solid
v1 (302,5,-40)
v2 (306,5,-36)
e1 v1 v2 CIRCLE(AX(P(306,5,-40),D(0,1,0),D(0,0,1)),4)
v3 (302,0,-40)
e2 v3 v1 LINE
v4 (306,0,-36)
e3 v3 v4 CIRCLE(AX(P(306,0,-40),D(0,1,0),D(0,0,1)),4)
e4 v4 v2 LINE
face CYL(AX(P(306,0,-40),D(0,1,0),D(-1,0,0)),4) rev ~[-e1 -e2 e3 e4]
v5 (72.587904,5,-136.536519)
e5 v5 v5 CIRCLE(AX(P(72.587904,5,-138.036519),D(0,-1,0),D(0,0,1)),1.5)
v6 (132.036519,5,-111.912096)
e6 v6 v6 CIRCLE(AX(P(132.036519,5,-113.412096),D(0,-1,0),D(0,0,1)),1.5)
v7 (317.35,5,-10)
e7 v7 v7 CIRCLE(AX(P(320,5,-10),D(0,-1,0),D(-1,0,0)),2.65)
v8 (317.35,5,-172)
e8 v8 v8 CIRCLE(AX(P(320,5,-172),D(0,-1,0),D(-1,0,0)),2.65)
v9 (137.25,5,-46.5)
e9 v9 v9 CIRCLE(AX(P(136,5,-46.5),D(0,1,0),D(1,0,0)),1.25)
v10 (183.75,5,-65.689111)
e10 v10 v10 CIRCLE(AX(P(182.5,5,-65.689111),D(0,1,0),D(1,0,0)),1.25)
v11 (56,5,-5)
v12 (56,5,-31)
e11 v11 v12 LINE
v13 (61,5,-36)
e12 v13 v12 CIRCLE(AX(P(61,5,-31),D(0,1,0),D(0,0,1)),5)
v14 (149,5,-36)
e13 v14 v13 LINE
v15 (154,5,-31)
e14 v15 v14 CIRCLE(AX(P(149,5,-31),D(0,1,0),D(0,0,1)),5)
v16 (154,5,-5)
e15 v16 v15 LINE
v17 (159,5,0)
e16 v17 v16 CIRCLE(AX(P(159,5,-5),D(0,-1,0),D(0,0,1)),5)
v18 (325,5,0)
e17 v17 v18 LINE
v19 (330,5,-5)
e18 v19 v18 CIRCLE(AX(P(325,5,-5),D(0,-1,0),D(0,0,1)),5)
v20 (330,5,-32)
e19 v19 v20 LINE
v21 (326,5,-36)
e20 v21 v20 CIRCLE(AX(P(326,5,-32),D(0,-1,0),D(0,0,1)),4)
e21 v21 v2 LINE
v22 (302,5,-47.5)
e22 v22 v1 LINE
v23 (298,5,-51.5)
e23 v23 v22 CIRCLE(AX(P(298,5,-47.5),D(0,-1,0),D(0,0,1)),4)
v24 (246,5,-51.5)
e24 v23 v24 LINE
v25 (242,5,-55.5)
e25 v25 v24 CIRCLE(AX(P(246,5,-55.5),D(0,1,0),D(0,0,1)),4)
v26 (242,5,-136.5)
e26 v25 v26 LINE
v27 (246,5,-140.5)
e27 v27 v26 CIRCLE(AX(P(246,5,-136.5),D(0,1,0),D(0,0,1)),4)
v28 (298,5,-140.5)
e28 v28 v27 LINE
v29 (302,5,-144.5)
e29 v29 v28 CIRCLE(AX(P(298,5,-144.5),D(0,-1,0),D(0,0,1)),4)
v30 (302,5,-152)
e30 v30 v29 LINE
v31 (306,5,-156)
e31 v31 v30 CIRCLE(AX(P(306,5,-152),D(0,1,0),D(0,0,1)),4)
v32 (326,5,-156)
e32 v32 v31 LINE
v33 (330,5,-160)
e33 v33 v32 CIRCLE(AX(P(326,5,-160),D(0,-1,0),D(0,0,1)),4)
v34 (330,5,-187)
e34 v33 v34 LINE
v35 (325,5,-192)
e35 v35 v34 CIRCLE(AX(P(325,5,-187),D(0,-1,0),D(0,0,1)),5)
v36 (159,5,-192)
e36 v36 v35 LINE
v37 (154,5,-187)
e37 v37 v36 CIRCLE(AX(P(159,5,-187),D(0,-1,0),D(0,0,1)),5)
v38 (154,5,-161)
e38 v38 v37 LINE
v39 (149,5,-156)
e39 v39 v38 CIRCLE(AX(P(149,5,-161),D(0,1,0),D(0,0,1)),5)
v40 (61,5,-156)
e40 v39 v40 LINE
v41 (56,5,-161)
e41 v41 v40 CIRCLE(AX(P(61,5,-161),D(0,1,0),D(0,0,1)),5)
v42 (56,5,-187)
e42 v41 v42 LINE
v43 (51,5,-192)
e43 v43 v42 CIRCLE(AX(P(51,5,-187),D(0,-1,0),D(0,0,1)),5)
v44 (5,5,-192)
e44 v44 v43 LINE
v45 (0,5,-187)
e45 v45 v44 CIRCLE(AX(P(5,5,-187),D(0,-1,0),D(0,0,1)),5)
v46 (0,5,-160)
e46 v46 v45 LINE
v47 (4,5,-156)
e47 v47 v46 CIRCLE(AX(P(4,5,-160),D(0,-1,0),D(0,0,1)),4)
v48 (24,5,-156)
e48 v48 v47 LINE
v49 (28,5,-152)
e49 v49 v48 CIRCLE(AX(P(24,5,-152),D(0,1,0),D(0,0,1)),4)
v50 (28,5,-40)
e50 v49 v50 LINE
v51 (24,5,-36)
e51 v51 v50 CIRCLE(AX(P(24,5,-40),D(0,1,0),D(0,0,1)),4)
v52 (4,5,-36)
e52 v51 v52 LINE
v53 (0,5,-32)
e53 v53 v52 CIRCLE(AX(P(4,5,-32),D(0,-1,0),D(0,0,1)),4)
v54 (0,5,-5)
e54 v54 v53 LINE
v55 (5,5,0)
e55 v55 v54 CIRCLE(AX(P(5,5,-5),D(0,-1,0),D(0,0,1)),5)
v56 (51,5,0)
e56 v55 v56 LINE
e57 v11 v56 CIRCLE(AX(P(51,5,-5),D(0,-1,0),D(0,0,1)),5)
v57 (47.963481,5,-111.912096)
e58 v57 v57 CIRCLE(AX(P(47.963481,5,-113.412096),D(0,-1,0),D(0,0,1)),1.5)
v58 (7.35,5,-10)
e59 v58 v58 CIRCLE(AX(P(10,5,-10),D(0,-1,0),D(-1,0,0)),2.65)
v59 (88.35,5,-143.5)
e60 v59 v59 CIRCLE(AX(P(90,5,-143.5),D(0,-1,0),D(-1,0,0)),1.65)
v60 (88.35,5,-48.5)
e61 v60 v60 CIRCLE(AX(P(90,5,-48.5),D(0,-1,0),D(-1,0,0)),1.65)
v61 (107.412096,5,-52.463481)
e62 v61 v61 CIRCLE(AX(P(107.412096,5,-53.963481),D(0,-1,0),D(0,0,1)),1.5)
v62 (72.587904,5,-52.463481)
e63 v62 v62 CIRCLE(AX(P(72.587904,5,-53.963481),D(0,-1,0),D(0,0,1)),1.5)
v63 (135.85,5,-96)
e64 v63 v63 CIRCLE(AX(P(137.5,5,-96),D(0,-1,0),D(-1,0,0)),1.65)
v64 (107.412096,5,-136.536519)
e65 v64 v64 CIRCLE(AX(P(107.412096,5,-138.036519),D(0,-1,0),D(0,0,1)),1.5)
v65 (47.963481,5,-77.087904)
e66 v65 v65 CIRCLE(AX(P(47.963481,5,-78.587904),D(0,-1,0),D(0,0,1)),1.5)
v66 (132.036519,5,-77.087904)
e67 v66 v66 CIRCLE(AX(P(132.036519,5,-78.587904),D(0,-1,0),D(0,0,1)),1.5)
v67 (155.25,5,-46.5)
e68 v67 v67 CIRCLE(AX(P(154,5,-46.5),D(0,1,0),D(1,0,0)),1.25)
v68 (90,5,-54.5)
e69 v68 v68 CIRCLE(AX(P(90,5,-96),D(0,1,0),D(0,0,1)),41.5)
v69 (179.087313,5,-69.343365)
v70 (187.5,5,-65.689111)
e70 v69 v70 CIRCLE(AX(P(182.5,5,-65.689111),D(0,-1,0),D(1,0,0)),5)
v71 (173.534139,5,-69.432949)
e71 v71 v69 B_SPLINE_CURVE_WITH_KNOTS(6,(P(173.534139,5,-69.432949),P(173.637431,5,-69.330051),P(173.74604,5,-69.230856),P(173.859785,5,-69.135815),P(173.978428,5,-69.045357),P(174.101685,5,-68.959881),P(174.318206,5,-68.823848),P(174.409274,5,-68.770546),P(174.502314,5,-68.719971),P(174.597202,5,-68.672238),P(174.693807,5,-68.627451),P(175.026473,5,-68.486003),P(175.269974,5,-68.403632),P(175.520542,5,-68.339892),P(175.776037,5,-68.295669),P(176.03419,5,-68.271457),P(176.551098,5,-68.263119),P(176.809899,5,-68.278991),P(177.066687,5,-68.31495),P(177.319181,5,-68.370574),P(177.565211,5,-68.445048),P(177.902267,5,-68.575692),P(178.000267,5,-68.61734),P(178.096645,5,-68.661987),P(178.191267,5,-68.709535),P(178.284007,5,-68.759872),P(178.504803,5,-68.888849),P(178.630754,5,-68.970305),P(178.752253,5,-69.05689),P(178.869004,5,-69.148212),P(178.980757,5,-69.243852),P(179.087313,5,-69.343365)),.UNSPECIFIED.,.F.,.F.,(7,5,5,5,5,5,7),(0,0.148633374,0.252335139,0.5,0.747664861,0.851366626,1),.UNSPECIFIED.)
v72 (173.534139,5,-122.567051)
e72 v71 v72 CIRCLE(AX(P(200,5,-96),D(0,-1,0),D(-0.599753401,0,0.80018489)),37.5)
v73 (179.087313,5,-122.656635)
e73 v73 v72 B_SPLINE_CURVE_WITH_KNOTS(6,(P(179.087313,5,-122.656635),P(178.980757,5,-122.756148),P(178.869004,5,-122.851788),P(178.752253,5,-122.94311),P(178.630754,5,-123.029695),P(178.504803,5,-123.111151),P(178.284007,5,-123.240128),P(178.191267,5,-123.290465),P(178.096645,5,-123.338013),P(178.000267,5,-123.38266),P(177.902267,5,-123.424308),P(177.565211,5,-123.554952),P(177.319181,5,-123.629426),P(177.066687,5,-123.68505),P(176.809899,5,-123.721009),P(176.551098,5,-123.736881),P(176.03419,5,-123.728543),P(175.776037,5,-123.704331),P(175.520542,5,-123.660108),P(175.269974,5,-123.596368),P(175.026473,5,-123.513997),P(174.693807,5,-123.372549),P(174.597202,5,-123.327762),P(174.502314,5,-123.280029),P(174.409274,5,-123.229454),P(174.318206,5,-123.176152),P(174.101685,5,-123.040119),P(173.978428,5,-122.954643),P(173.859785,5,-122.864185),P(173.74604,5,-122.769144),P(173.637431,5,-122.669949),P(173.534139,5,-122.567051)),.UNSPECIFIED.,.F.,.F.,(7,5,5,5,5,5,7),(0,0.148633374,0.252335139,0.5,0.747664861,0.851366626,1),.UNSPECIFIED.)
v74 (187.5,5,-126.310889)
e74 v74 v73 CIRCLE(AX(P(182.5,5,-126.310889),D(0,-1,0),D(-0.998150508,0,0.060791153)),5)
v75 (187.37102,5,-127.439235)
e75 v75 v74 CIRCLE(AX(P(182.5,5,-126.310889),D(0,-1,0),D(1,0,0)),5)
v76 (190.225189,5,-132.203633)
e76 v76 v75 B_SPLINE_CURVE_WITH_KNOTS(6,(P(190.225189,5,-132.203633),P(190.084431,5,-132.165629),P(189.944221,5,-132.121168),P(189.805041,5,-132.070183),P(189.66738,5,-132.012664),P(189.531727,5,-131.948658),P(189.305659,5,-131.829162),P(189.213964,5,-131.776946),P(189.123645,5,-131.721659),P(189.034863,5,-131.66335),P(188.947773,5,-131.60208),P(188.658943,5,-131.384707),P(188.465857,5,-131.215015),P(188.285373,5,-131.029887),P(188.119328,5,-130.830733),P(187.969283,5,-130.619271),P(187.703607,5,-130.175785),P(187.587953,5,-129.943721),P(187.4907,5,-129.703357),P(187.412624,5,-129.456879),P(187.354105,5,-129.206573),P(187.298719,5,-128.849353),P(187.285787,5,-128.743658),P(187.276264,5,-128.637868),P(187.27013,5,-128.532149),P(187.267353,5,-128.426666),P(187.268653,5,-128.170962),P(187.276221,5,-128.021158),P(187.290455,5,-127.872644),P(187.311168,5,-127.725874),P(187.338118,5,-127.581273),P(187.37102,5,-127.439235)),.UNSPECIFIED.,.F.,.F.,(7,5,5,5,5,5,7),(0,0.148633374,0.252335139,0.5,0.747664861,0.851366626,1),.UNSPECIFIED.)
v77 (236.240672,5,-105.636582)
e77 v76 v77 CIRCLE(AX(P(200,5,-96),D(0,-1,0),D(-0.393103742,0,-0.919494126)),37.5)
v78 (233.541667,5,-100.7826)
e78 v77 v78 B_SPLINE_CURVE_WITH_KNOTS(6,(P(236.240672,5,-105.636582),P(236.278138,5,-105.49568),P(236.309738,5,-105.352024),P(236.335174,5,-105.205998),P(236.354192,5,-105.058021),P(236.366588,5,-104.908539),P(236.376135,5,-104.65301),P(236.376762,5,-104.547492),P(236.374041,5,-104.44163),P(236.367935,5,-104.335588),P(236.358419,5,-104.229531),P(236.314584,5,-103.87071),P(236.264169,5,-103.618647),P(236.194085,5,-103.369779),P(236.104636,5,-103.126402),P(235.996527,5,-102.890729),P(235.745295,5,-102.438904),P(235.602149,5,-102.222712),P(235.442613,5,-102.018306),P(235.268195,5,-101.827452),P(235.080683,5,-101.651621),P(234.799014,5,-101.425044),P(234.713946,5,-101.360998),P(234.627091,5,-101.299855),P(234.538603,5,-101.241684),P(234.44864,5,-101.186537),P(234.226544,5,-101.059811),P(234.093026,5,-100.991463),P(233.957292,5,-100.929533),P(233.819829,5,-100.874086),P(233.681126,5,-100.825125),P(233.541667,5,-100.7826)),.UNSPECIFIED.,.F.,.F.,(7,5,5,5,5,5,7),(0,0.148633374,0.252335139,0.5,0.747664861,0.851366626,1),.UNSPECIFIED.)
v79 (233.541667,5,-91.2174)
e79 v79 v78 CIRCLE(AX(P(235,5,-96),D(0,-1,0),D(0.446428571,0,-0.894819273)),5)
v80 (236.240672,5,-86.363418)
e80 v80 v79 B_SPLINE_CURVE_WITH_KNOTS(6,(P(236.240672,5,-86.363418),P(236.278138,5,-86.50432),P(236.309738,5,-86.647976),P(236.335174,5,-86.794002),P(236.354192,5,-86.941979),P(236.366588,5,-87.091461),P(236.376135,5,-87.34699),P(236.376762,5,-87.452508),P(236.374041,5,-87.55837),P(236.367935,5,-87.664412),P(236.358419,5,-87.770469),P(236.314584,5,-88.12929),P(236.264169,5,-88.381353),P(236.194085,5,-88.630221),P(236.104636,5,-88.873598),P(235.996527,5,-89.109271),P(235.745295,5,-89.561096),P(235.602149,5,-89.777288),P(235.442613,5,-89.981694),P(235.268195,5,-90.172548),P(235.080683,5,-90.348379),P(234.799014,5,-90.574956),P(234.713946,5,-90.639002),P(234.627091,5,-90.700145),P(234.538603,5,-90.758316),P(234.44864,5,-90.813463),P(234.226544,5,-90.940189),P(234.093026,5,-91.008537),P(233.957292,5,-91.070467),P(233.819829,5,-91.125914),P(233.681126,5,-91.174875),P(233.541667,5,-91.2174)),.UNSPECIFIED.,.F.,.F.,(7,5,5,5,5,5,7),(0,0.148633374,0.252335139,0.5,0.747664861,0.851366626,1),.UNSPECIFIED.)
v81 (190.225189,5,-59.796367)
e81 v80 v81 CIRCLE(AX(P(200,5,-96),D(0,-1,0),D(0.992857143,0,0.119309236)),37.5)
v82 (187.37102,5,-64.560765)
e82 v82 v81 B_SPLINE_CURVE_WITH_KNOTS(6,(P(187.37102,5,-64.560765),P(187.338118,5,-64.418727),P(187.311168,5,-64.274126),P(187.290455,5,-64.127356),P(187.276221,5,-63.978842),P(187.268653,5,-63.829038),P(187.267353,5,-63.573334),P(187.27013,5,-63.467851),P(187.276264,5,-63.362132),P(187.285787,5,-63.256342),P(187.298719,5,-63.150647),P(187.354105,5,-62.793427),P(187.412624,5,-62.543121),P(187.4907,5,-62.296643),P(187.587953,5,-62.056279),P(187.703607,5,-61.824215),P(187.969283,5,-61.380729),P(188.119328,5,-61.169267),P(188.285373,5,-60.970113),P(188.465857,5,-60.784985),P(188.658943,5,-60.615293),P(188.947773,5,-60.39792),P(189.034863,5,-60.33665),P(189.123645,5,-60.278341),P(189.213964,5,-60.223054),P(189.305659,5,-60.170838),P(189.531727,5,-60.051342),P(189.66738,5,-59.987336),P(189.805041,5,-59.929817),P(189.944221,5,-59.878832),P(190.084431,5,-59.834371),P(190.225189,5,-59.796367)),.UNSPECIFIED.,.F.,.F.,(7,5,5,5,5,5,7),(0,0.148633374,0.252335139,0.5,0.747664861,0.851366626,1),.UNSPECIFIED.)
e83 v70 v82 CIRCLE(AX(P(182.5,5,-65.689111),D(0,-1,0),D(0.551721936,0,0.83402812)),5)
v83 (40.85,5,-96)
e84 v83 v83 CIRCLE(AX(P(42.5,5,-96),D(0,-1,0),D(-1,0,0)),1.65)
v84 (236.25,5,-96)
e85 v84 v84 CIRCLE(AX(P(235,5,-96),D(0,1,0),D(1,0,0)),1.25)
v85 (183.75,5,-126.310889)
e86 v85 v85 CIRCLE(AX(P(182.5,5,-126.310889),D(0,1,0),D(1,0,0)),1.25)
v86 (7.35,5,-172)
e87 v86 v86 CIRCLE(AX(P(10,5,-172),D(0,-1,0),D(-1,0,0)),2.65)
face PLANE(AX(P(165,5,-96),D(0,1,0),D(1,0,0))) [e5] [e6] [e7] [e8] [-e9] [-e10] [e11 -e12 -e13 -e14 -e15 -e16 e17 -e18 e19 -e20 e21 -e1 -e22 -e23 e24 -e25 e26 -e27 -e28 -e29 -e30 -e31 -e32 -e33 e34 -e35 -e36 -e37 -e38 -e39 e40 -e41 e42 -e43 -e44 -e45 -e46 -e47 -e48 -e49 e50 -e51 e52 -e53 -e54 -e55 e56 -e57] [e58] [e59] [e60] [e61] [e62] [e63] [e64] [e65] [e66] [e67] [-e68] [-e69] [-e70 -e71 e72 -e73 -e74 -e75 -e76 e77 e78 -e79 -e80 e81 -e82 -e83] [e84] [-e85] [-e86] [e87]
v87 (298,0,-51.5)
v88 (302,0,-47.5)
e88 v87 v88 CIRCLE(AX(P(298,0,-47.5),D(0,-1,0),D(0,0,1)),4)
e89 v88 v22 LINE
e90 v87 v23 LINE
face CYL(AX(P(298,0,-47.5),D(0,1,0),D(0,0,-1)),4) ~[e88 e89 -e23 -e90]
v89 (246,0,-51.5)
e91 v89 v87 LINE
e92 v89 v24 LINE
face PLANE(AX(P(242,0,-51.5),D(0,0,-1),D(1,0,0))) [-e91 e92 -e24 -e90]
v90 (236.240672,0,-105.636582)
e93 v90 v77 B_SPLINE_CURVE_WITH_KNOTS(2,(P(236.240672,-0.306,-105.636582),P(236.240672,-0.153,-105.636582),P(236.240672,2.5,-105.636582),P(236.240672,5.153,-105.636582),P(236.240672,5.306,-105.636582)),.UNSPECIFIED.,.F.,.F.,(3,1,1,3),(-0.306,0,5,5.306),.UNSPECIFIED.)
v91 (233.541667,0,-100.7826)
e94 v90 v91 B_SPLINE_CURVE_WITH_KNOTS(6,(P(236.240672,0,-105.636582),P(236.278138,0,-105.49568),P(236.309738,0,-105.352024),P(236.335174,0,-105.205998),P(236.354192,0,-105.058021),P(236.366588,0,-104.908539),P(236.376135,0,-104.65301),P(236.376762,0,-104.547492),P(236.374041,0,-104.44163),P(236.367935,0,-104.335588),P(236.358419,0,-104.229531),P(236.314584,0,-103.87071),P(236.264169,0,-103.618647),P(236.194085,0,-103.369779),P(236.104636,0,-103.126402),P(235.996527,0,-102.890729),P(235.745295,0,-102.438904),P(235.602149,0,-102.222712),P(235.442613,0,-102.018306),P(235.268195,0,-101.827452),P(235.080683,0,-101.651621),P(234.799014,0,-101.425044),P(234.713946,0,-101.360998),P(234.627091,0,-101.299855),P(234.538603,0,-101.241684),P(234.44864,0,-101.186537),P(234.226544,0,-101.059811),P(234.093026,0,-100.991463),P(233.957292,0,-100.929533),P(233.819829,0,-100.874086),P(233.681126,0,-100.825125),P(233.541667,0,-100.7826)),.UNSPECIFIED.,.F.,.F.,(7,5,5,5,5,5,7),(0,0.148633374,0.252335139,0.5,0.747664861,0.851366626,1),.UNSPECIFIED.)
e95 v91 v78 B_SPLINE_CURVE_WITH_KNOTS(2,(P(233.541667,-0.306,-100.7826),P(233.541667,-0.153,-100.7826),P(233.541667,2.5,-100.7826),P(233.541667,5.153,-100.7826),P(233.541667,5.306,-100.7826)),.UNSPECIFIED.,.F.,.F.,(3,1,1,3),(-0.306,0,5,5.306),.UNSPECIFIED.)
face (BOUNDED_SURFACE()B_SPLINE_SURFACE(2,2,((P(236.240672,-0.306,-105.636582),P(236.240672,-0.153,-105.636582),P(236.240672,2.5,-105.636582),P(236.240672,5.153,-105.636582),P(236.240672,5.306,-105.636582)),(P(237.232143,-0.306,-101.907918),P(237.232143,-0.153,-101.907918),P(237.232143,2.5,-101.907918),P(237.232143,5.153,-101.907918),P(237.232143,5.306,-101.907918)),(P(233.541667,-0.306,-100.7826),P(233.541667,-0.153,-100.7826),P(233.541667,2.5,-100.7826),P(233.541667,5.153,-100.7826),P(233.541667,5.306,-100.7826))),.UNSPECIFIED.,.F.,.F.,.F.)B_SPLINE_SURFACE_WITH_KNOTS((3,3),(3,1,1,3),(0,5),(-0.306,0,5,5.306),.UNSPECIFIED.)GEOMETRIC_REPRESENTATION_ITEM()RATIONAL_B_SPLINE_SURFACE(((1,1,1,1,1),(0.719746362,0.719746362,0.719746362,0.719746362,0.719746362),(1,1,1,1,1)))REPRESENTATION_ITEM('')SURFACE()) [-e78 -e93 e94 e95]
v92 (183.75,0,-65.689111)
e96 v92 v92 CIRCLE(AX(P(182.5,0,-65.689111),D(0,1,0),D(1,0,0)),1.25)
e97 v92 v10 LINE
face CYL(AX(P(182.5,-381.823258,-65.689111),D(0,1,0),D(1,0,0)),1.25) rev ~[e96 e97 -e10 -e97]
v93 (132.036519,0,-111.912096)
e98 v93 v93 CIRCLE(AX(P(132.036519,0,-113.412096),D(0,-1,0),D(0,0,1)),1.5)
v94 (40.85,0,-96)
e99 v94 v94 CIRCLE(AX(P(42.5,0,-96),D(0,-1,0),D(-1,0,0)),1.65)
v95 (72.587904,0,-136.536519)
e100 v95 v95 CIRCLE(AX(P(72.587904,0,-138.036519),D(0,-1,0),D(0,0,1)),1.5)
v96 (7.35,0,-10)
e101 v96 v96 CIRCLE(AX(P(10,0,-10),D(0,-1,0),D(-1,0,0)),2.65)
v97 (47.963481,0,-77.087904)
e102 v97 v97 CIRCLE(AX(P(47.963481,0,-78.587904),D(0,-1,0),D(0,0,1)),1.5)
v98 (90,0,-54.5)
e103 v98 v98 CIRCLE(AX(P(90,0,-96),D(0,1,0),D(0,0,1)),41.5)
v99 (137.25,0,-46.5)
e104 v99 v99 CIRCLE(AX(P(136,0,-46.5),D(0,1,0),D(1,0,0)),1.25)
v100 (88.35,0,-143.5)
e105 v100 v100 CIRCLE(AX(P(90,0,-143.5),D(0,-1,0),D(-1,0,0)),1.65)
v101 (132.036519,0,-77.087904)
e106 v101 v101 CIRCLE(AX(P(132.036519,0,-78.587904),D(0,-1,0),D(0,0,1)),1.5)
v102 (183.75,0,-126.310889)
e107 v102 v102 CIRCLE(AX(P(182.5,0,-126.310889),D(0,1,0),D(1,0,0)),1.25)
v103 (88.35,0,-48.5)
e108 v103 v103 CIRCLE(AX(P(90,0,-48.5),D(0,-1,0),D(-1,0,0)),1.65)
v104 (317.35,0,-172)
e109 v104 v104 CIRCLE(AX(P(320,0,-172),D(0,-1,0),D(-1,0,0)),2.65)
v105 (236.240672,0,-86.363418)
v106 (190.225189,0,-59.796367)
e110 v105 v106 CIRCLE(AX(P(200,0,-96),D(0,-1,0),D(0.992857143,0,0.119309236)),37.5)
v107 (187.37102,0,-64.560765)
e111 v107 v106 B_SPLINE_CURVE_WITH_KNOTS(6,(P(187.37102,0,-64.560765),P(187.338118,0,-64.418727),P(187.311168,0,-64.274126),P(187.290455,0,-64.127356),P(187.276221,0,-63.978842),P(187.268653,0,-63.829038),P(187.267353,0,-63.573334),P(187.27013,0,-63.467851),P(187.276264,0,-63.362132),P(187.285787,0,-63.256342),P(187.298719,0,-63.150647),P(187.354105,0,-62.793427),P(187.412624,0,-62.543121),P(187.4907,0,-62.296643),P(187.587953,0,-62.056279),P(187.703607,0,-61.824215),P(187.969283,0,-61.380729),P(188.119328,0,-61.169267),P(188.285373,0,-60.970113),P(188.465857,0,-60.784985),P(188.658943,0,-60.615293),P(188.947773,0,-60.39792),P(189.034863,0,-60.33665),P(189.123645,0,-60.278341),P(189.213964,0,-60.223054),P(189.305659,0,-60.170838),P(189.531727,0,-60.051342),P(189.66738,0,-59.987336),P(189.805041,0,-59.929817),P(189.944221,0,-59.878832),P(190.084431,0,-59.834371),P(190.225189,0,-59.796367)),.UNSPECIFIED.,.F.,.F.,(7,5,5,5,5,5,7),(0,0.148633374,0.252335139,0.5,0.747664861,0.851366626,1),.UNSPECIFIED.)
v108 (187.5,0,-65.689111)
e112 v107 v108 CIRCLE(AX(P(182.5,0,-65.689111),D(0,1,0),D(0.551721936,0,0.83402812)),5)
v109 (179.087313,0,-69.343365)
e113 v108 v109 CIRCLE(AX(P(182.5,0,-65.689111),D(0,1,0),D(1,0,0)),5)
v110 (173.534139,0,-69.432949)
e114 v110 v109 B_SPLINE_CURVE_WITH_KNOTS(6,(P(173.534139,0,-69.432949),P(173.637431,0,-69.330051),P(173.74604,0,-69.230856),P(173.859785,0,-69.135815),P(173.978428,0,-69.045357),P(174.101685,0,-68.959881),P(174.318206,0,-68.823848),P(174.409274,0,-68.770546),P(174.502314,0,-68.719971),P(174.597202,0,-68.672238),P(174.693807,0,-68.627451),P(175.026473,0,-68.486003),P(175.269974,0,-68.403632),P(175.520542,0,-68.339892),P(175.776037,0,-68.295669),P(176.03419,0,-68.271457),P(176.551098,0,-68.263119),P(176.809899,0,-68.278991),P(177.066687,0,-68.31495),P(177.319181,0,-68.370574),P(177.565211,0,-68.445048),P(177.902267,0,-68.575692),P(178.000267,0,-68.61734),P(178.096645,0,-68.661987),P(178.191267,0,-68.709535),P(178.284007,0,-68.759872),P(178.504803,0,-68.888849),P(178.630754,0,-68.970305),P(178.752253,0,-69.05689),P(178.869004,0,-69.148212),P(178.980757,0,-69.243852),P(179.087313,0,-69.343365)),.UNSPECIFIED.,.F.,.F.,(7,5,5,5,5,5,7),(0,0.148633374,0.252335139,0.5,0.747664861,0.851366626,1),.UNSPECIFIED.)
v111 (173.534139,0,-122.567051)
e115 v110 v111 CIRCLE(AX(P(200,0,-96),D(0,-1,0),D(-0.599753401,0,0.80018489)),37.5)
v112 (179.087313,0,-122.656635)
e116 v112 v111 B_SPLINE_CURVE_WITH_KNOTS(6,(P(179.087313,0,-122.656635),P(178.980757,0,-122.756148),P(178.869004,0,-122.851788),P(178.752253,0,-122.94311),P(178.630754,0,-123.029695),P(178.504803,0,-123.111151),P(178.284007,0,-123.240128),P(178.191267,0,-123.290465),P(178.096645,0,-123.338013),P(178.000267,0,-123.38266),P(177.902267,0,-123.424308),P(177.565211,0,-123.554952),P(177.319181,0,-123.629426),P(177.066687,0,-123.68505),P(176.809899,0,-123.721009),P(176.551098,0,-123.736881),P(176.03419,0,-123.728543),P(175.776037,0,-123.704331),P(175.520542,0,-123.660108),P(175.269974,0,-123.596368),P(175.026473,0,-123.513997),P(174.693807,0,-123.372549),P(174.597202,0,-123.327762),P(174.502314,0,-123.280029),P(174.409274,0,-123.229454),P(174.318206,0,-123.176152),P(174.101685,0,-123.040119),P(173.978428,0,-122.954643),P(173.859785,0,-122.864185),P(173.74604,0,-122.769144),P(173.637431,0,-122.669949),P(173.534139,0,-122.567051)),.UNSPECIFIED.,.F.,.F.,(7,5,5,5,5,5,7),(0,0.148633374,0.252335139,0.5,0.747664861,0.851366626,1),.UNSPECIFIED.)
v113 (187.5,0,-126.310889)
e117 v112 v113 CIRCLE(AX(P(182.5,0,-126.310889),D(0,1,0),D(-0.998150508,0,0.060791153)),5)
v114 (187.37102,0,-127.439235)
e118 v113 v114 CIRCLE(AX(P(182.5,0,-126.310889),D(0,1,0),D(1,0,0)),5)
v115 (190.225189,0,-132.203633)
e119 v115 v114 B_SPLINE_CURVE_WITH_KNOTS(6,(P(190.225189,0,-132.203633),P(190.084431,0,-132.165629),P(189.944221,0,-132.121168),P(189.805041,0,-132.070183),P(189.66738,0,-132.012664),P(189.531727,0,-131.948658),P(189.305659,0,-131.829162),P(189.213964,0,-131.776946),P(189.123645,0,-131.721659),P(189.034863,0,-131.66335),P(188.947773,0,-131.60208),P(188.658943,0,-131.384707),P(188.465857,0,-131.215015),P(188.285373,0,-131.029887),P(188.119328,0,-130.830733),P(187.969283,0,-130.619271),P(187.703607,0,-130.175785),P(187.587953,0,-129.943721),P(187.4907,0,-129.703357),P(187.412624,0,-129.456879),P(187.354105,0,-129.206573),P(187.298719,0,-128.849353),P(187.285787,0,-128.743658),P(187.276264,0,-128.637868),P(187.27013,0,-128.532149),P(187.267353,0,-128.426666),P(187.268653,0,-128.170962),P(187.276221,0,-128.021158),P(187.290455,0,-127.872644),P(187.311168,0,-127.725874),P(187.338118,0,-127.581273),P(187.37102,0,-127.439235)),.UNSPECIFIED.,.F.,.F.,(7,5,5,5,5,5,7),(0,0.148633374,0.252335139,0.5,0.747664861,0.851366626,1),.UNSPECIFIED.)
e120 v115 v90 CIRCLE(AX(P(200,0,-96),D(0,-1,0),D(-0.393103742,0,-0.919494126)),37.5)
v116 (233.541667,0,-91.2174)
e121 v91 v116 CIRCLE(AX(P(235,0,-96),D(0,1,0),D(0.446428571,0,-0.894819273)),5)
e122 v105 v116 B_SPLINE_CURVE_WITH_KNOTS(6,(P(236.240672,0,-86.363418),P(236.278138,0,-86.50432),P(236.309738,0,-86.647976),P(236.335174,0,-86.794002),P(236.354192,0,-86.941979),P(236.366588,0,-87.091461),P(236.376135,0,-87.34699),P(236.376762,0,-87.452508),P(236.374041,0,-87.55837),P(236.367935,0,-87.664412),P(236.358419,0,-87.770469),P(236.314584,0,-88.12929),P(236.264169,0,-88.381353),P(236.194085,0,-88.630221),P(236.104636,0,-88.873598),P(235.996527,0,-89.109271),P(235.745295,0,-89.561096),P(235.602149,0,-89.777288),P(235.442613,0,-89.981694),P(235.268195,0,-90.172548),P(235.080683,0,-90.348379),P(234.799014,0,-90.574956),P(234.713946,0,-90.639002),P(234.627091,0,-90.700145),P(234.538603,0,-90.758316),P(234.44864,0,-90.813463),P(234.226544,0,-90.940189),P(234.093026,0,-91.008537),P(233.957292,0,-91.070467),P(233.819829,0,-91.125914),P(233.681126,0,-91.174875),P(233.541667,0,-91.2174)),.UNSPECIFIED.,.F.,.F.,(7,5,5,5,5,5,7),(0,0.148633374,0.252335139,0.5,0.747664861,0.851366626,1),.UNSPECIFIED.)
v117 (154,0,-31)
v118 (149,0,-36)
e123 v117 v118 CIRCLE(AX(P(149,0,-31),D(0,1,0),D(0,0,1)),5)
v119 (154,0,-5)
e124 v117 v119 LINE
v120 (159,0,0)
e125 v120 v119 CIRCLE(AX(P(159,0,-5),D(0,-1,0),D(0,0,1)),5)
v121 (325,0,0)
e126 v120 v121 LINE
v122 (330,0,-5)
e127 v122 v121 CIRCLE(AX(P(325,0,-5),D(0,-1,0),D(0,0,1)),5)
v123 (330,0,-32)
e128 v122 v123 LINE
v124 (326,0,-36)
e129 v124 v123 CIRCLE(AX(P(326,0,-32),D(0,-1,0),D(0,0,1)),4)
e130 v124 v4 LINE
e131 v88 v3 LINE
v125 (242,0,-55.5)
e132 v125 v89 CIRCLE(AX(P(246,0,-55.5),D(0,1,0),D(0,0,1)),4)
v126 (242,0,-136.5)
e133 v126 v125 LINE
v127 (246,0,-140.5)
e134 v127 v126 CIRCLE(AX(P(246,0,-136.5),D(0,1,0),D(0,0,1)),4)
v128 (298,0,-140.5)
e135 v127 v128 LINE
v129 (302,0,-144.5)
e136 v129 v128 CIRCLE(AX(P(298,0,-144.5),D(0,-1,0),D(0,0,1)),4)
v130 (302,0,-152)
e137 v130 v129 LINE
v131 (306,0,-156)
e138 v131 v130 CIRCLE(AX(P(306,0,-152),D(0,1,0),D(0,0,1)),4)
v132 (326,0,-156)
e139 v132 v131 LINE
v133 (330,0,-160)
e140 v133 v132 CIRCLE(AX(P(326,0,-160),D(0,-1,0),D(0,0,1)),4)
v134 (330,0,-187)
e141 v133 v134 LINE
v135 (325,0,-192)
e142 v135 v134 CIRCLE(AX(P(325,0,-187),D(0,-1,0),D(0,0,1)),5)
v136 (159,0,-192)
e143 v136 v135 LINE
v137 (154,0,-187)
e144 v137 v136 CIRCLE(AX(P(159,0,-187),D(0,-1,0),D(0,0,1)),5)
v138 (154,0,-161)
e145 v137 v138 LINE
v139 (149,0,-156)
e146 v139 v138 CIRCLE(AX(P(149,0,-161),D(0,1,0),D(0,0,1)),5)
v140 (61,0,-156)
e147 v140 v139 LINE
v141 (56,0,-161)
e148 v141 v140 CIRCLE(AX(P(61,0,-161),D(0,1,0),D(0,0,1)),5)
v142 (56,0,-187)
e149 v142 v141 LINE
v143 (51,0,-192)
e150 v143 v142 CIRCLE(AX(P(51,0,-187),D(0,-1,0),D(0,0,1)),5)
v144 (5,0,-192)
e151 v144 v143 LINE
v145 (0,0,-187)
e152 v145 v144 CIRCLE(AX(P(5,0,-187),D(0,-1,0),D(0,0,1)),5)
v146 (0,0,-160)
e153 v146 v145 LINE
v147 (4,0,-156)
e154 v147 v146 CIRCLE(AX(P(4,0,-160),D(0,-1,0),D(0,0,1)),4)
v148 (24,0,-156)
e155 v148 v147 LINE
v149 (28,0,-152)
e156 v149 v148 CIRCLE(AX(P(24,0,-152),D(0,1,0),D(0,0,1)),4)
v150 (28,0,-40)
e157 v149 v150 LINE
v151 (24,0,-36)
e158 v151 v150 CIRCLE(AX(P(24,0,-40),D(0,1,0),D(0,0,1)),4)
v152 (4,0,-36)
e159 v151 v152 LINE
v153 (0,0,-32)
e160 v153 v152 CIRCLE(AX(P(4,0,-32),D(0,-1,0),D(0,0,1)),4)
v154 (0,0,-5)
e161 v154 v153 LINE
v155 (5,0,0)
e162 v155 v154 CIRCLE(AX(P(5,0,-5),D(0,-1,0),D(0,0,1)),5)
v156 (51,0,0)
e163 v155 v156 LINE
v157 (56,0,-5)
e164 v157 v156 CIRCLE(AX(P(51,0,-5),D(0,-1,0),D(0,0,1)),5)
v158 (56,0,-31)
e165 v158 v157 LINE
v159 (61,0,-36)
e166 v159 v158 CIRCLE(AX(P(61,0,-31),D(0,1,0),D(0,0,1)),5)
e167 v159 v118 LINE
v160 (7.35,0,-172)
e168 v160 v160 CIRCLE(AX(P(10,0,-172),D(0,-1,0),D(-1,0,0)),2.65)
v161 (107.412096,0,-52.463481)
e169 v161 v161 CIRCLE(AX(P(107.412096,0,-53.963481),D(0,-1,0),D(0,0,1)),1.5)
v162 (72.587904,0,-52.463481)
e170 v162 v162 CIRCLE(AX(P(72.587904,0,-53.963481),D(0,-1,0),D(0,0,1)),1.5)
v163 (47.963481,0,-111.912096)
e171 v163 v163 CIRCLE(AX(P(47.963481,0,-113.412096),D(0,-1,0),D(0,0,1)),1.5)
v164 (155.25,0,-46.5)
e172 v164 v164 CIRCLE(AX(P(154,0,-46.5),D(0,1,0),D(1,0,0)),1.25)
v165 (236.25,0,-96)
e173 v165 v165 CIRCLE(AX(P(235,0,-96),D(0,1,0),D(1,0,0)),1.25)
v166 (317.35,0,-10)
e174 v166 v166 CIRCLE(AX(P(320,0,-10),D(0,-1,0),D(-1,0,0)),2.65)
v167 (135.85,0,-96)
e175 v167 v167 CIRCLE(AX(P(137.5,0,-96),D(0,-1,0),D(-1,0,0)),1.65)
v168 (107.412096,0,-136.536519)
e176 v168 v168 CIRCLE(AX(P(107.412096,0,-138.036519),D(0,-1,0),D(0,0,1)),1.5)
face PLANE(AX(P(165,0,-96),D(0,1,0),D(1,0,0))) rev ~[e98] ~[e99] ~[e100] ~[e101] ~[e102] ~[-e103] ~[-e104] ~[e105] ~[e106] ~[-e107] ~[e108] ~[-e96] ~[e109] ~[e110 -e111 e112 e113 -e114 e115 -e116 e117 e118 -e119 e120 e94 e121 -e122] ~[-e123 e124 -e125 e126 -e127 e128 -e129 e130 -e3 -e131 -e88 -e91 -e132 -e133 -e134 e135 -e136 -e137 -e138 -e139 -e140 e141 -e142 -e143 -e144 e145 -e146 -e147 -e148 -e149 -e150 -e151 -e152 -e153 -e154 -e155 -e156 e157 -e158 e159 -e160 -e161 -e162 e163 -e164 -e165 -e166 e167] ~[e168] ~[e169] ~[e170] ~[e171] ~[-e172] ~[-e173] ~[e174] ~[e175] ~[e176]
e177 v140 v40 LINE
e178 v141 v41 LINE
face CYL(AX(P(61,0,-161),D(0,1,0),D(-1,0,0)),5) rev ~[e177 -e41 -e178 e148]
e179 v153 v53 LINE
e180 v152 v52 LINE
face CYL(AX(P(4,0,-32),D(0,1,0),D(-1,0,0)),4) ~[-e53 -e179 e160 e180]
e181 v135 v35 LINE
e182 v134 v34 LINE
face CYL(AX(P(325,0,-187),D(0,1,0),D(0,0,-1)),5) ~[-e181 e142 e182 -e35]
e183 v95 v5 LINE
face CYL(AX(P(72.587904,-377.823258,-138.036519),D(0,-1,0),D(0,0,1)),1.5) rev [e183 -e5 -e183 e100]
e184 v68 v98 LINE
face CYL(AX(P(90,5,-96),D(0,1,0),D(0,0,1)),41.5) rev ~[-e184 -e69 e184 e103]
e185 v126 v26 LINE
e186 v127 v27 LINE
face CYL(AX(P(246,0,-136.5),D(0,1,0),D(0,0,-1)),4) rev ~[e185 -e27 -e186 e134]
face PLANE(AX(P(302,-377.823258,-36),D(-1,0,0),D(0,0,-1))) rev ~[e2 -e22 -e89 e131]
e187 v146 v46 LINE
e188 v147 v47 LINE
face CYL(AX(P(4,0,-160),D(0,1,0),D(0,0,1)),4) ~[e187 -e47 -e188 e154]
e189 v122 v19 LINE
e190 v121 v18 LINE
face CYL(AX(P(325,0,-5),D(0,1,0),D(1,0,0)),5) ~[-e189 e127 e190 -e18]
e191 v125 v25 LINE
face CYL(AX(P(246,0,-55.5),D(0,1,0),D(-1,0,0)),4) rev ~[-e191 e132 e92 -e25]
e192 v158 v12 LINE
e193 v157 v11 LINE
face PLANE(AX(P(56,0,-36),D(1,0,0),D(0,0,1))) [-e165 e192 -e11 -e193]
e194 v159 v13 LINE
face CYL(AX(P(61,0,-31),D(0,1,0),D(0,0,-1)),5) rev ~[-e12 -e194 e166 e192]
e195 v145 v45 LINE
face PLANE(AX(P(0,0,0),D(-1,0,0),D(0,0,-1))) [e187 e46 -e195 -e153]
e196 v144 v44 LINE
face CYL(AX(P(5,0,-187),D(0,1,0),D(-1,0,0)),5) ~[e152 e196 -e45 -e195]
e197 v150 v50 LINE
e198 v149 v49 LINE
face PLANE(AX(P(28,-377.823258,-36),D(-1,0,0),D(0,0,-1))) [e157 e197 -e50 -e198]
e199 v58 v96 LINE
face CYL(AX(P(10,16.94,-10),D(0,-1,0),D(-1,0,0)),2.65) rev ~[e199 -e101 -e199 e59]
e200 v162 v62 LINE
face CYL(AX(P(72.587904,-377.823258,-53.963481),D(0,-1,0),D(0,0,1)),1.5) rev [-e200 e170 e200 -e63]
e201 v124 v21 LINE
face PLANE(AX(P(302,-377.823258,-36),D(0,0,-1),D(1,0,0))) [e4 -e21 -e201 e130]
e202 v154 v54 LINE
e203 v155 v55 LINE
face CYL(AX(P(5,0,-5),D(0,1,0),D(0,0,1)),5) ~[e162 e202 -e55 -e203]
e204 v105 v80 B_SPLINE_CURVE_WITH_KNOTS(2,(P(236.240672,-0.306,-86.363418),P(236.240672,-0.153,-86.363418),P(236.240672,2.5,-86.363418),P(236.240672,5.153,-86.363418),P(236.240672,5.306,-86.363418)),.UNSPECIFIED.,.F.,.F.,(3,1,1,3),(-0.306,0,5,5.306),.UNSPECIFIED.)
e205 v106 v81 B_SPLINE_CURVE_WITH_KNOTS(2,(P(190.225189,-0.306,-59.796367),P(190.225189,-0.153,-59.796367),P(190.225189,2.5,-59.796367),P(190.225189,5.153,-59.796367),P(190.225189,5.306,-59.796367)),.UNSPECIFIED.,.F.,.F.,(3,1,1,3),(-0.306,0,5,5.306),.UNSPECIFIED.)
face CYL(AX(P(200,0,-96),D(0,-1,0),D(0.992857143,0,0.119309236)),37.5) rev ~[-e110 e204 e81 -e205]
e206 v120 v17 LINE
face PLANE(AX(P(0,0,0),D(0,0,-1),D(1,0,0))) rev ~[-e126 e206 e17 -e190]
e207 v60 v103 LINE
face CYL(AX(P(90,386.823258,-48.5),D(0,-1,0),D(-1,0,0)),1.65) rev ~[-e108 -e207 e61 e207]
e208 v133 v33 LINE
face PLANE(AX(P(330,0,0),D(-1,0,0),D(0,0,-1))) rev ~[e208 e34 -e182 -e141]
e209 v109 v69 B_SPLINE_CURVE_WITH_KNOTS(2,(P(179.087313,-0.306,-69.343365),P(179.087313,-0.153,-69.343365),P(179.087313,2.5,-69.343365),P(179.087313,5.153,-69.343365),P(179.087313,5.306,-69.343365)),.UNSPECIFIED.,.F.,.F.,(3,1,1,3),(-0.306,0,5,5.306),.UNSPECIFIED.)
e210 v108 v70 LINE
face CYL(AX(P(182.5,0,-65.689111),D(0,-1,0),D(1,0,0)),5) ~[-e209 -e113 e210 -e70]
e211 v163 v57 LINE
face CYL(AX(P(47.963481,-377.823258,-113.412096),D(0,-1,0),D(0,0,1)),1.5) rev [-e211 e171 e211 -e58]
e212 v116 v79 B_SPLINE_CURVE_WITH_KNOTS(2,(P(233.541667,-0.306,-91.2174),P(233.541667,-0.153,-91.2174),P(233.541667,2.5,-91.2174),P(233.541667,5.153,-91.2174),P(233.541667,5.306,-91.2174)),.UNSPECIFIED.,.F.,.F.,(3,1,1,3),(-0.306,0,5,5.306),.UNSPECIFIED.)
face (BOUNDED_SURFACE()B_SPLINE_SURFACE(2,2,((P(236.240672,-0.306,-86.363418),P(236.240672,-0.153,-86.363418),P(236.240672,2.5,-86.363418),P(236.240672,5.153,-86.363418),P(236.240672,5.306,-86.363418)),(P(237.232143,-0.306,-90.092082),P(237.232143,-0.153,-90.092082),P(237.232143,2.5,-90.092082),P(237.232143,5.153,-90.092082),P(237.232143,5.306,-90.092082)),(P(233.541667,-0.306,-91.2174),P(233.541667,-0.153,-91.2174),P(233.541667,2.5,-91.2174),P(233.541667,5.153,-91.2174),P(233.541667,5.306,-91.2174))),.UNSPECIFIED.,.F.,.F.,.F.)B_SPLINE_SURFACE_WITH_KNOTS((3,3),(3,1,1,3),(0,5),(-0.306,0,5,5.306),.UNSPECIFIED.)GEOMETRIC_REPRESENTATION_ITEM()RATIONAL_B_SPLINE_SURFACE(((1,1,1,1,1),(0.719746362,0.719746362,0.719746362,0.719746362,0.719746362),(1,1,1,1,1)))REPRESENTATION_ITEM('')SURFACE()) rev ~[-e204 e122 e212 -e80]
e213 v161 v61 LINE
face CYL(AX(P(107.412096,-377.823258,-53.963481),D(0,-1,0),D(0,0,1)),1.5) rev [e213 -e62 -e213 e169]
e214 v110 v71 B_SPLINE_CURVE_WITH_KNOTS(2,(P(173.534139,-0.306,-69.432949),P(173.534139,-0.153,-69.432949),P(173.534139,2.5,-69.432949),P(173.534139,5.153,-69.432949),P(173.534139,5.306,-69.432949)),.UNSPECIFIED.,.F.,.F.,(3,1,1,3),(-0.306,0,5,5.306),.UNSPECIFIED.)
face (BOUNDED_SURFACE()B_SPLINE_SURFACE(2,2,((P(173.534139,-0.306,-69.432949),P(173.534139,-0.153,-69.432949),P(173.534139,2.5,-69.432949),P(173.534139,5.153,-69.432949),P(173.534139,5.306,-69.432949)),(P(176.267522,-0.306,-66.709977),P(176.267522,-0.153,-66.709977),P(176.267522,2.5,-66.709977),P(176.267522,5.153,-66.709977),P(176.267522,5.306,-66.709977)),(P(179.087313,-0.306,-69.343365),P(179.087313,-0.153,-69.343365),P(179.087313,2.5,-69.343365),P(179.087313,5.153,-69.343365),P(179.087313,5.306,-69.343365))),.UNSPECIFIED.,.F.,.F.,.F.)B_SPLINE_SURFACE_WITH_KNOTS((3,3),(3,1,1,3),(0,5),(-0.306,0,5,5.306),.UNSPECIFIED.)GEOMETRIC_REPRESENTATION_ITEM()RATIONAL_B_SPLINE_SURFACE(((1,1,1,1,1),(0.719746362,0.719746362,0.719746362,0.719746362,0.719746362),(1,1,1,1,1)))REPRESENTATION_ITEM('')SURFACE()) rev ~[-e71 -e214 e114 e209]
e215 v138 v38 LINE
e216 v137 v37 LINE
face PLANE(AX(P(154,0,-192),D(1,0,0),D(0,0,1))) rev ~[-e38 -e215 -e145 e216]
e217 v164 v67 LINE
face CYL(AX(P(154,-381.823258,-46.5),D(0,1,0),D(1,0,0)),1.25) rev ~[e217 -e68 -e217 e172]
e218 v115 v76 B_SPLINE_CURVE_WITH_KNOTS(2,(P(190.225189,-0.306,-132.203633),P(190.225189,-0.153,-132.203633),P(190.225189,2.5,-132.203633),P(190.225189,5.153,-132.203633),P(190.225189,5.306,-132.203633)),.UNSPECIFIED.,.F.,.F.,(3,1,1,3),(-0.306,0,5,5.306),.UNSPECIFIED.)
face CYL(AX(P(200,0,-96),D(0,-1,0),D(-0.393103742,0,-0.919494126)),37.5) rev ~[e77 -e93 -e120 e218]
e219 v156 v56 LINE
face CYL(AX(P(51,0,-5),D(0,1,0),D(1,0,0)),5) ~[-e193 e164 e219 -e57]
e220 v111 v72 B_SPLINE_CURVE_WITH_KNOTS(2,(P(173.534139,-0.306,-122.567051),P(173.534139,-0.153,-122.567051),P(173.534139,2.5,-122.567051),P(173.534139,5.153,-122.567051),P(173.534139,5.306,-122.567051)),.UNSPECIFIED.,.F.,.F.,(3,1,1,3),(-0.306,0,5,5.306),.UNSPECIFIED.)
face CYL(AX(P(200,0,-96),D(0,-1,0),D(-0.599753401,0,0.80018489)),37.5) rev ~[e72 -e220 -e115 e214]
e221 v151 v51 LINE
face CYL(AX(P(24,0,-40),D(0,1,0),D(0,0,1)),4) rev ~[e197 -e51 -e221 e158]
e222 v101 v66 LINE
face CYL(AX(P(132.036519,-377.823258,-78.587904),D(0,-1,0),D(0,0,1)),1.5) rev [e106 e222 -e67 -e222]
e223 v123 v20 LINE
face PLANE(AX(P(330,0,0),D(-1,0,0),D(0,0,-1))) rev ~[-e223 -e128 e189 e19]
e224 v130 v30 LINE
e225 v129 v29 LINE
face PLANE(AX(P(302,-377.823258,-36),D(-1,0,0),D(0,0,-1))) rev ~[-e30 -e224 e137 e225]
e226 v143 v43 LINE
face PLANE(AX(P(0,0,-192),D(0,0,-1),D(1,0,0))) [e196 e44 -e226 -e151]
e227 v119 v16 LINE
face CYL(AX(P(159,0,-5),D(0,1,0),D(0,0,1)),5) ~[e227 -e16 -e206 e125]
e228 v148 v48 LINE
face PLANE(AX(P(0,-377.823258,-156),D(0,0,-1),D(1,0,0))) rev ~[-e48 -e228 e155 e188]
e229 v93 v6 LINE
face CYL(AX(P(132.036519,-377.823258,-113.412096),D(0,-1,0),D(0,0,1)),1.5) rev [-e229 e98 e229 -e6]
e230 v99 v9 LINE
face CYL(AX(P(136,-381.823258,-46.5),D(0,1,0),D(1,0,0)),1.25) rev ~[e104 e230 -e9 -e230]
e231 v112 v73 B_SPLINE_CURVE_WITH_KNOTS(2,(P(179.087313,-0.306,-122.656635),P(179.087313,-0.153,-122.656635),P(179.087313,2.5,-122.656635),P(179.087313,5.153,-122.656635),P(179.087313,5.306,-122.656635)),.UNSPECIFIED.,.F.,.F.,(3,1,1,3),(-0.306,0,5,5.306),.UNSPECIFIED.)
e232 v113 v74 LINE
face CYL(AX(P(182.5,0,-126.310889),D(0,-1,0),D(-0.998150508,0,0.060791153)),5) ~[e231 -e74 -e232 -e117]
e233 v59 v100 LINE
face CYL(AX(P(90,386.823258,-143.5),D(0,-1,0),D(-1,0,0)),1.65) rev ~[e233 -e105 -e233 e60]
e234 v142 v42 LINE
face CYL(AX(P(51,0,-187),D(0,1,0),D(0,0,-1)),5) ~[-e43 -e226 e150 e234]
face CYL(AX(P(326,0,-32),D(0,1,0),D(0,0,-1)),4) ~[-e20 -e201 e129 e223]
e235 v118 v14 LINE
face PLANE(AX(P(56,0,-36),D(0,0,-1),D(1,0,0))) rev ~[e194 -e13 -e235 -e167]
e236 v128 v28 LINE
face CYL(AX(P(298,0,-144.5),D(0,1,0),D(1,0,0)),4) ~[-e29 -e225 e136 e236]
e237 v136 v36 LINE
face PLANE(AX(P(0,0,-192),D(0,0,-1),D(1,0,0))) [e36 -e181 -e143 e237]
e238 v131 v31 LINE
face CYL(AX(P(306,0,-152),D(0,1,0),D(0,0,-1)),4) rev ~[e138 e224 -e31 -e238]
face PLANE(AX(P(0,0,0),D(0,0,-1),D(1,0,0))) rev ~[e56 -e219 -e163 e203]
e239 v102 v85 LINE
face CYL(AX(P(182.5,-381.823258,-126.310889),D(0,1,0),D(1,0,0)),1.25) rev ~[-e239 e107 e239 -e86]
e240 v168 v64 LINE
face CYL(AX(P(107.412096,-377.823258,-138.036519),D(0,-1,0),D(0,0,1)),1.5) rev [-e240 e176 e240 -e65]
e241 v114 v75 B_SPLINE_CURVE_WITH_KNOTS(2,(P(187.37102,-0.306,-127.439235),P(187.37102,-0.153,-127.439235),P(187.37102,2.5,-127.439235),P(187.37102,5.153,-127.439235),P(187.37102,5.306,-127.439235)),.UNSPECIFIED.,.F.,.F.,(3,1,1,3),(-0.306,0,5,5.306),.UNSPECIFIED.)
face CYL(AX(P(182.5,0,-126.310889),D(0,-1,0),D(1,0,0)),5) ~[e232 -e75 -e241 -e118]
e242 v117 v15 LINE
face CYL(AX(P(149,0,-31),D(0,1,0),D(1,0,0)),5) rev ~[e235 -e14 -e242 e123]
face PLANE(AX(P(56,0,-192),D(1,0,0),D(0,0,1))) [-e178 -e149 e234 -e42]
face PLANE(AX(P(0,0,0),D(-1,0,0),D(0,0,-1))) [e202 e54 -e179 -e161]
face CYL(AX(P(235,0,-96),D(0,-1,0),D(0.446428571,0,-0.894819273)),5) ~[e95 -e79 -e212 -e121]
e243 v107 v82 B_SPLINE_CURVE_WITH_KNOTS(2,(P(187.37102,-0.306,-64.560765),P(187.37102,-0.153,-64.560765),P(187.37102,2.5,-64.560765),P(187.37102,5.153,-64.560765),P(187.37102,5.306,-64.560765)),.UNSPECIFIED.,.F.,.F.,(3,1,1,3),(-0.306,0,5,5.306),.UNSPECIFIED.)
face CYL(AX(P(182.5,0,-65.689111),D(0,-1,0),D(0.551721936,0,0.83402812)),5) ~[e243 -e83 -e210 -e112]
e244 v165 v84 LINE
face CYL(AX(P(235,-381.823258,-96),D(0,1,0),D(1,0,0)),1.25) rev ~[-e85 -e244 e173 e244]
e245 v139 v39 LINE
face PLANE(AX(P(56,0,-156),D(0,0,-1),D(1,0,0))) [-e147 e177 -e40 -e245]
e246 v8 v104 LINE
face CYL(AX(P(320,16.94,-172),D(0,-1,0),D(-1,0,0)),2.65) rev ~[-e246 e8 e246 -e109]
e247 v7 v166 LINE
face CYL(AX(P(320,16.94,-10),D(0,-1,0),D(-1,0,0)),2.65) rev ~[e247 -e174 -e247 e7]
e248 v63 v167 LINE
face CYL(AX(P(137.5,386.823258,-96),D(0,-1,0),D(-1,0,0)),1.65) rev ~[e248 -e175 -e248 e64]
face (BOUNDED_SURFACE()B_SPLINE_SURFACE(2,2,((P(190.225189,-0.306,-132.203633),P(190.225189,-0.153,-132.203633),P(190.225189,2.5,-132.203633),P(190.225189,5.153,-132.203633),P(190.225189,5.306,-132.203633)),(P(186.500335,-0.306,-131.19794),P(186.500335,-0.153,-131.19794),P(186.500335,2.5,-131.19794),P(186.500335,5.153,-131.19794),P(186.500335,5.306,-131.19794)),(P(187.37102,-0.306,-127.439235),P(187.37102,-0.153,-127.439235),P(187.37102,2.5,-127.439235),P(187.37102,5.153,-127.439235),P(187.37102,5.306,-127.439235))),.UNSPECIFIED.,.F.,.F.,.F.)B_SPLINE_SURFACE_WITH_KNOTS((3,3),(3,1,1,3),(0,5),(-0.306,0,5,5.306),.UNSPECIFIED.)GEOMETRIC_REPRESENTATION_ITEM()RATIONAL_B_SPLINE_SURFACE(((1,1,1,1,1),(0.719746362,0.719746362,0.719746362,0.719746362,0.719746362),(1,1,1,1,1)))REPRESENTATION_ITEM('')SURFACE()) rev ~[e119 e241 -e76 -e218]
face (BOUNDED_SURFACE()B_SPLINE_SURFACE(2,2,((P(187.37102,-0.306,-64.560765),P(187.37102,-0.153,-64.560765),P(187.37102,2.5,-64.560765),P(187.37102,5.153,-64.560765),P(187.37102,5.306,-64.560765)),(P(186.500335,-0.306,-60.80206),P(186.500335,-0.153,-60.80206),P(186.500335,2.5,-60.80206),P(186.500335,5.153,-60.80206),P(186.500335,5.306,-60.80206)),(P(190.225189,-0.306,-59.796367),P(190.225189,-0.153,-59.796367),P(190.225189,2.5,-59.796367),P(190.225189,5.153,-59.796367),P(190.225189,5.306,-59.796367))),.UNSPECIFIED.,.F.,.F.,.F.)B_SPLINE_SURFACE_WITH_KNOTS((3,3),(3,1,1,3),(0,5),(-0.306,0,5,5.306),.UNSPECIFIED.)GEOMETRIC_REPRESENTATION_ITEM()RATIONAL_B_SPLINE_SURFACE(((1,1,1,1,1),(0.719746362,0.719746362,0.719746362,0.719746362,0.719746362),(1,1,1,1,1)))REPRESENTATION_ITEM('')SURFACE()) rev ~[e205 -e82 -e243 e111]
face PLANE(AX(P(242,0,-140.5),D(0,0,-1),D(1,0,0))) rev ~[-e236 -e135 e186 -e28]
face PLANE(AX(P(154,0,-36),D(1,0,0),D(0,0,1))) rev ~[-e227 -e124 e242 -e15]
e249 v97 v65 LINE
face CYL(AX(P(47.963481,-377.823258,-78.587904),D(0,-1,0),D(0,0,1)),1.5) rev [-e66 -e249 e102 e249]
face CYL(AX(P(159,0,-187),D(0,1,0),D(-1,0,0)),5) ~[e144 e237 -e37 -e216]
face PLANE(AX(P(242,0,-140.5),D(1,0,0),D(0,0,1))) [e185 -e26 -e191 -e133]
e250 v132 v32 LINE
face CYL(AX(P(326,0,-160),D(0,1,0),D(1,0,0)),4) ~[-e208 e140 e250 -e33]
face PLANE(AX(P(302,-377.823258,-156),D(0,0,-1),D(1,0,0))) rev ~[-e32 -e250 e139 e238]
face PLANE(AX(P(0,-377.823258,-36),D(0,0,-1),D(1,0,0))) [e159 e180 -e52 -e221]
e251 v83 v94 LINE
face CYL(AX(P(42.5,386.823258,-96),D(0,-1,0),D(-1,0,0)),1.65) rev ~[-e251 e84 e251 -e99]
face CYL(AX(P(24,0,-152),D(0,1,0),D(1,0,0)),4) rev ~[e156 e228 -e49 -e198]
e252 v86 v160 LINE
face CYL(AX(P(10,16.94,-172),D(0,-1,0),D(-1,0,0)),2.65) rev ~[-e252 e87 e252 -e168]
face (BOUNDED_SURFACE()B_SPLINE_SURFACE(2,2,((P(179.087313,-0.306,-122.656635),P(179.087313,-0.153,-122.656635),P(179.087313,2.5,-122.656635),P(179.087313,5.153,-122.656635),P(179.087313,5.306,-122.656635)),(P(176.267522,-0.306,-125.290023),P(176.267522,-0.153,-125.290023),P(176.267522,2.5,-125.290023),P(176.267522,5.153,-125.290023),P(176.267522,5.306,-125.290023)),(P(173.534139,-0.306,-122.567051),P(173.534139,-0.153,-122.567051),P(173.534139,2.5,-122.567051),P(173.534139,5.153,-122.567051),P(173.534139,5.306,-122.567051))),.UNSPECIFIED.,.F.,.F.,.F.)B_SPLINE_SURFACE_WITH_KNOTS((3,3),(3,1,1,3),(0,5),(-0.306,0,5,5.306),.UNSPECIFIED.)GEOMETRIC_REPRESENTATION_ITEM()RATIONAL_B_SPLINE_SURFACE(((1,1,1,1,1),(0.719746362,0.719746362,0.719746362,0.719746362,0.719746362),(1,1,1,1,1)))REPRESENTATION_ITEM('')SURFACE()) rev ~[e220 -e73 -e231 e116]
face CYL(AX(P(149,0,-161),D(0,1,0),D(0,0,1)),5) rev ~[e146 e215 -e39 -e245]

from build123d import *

# Parameters (mm, degrees)
SKETCH1_W                = 330
SKETCH1_H                = 192
BOSS_EXTRUDE1_DEPTH      = 5
CUT_EXTRUDE1_DEPTH       = 382.823257542
CUT_EXTRUDE1_DEPTH_BACK  = 382.823257542
SKETCH2_R                = 1.5
SKETCH3_R                = 41.5
CUT_EXTRUDE2_DEPTH       = 382.823257542
M5_CLEARANCE_HOLE1_D     = 5.3
M5_CLEARANCE_HOLE1_DEPTH = 11.94
M5_CLEARANCE_HOLE1_TIP   = 1.59228064
TAP_DRILL_FOR_M4_TAP1_D  = 3.3
CUT_EXTRUDE3_DEPTH       = 382.823257542
CUT_EXTRUDE3_DEPTH_BACK  = 382.823257542
SKETCH19_W               = 28
SKETCH19_H               = 120
SKETCH21_W               = 60
SKETCH21_H               = 89
CUT_EXTRUDE4_DEPTH       = 382.823257542
FILLET1_R                = 4
TAP_DRILL_FOR_M3_TAP1_D  = 2.5
TAP_DRILL_FOR_M3_TAP2_D  = 2.5
CUT_EXTRUDE5_DEPTH       = 382.823257542
FILLET2_R                = 4
SKETCH33_W               = 98
SKETCH33_H               = 36
CUT_EXTRUDE6_DEPTH       = 382.82325768
FILLET3_R                = 5


with BuildPart() as part:
    # Sketch1 → Boss-Extrude1 (new body)
    with BuildSketch(Plane(origin=(0, 0, 0), x_dir=(1, 0, 0), z_dir=(0, 1, 0))):
        with Locations((165, 96)):
            Rectangle(SKETCH1_W, SKETCH1_H)
    extrude(amount=BOSS_EXTRUDE1_DEPTH)

    # Sketch2 → Cut-Extrude1 (cut, two sides: drawn at the far end of the back side and taken through both)
    with BuildSketch(Plane(origin=(0, 5, 0), x_dir=(1, 0, 0), z_dir=(0, 1, 0)).offset(-CUT_EXTRUDE1_DEPTH_BACK)):
        with Locations(Location((132.036518729, 113.412096173, 0), (0, 0, 270))):
            Circle(SKETCH2_R)
        with Locations(Location((132.036518729, 78.587903827, 0), (0, 0, 270))):
            Circle(SKETCH2_R)
        with Locations(Location((107.412096173, 53.963481271, 0), (0, 0, 270))):
            Circle(SKETCH2_R)
        with Locations(Location((72.587903827, 53.963481271, 0), (0, 0, 270))):
            Circle(SKETCH2_R)
        with Locations(Location((47.963481271, 78.587903827, 0), (0, 0, 270))):
            Circle(SKETCH2_R)
        with Locations(Location((47.963481271, 113.412096173, 0), (0, 0, 270))):
            Circle(SKETCH2_R)
        with Locations(Location((72.587903827, 138.036518729, 0), (0, 0, 270))):
            Circle(SKETCH2_R)
        with Locations(Location((107.412096173, 138.036518729, 0), (0, 0, 270))):
            Circle(SKETCH2_R)
    extrude(amount=CUT_EXTRUDE1_DEPTH + CUT_EXTRUDE1_DEPTH_BACK, mode=Mode.SUBTRACT)

    # Sketch3 → Cut-Extrude2 (cut, through all)
    with BuildSketch(Plane(origin=(0, 5, 0), x_dir=(1, 0, 0), z_dir=(0, 1, 0))):
        with Locations(Location((90, 96, 0), (0, 0, 270))):
            Circle(SKETCH3_R)
    extrude(amount=-CUT_EXTRUDE2_DEPTH, mode=Mode.SUBTRACT)

    # M5 Clearance Hole1
    with Locations(Plane(origin=(0, 5, 0), x_dir=(1, 0, 0), z_dir=(0, 1, 0))):
        with Locations((10, 172), (10, 10), (320, 10), (320, 172)):
            Hole(M5_CLEARANCE_HOLE1_D / 2, depth=M5_CLEARANCE_HOLE1_DEPTH)
            with Locations((0, 0, -(M5_CLEARANCE_HOLE1_DEPTH + M5_CLEARANCE_HOLE1_TIP / 2))):  # 118° drill point
                Cone(0, M5_CLEARANCE_HOLE1_D / 2, M5_CLEARANCE_HOLE1_TIP, mode=Mode.SUBTRACT)

    # Tap Drill for M4 Tap1 (through all)
    with Locations(Plane(origin=(0, 5, 0), x_dir=(1, 0, 0), z_dir=(0, 1, 0))):
        with Locations((137.5, 96), (90, 48.5), (42.5, 96), (90, 143.5)):
            Hole(TAP_DRILL_FOR_M4_TAP1_D / 2)

    # Sketch19 → Cut-Extrude3 (cut, two sides: drawn at the far end of the back side and taken through both)
    with BuildSketch(Plane(origin=(0, 5, 0), x_dir=(1, 0, 0), z_dir=(0, 1, 0)).offset(-CUT_EXTRUDE3_DEPTH_BACK)):
        with Locations((14, 96)):
            Rectangle(SKETCH19_W, SKETCH19_H)
        with Locations((316, 96)):
            Rectangle(SKETCH19_W, SKETCH19_H)
    extrude(amount=CUT_EXTRUDE3_DEPTH + CUT_EXTRUDE3_DEPTH_BACK, mode=Mode.SUBTRACT)

    # Sketch21 → Cut-Extrude4 (cut, through all)
    with BuildSketch(Plane.XZ):
        with Locations((272, -96)):
            Rectangle(SKETCH21_W, SKETCH21_H)
    extrude(amount=-CUT_EXTRUDE4_DEPTH, mode=Mode.SUBTRACT)

    # Fillet1
    fillet1_edges = [part.edges().sort_by_distance(p)[0] for p in [
        (0, 2.5, -36),
        (0, 2.5, -156),
        (28, 2.5, -156),
        (28, 2.5, -36),
        (330, 2.5, -156),
        (330, 2.5, -36),
        (302, 2.5, -36),
        (302, 2.5, -156),
        (302, 2.5, -51.5),
        (302, 2.5, -140.5),
        (242, 2.5, -140.5),
        (242, 2.5, -51.5),
    ]]
    fillet(fillet1_edges, radius=FILLET1_R)

    # Tap Drill for M3 Tap1 (through all)
    with Locations(Plane(origin=(0, 0, 0), x_dir=(-1, 0, 0), z_dir=(0, -1, 0))):
        with Locations((-182.5, 126.310889132), (-182.5, 65.689110868), (-235, 96)):
            Hole(TAP_DRILL_FOR_M3_TAP1_D / 2)

    # Tap Drill for M3 Tap2 (through all)
    with Locations(Plane(origin=(0, 0, 0), x_dir=(-1, 0, 0), z_dir=(0, -1, 0))):
        with Locations((-154, 46.5), (-136, 46.5)):
            Hole(TAP_DRILL_FOR_M3_TAP2_D / 2)

    # Sketch32 → Cut-Extrude5 (cut, through all)
    with BuildSketch(Plane.XZ):
        with BuildLine():
            ThreePointArc((237.232142857, -100.474096363), (230, -96), (237.232142857, -91.525903637))
            ThreePointArc((237.232142857, -91.525903637), (218.75, -63.524047358), (185.258609681, -61.518970267))
            ThreePointArc((185.258609681, -61.518970267), (186.904148522, -63.321944672), (187.5, -65.689110868))
            ThreePointArc((187.5, -65.689110868), (182.6520482, -70.686798467), (177.509247462, -65.99306663))
            ThreePointArc((177.509247462, -65.99306663), (162.5, -96), (177.509247462, -126.00693337))
            ThreePointArc((177.509247462, -126.00693337), (182.6520482, -121.313201533), (187.5, -126.310889132))
            ThreePointArc((187.5, -126.310889132), (186.904148522, -128.678055328), (185.258609681, -130.481029733))
            ThreePointArc((185.258609681, -130.481029733), (218.75, -128.475952642), (237.232142857, -100.474096363))
        make_face()
    extrude(amount=-CUT_EXTRUDE5_DEPTH, mode=Mode.SUBTRACT)

    # Fillet2
    fillet2_edges = [part.edges().sort_by_distance(p)[0] for p in [
        (237.232142857, 2.5, -91.525903637),
        (237.232142857, 2.5, -100.474096363),
        (185.258609681, 2.5, -130.481029733),
        (177.509247462, 2.5, -126.00693337),
        (177.509247462, 2.5, -65.99306663),
        (185.258609681, 2.5, -61.518970267),
    ]]
    fillet(fillet2_edges, radius=FILLET2_R)

    # Sketch33 → Cut-Extrude6 (cut, through all)
    with BuildSketch(Plane.XZ):
        with Locations((105, -18)):
            Rectangle(SKETCH33_W, SKETCH33_H)
        with Locations((105, -174)):
            Rectangle(SKETCH33_W, SKETCH33_H)
    extrude(amount=-CUT_EXTRUDE6_DEPTH, mode=Mode.SUBTRACT)

    # Fillet3
    fillet3_edges = [part.edges().sort_by_distance(p)[0] for p in [
        (56, 2.5, -36),
        (56, 2.5, 0),
        (154, 2.5, 0),
        (154, 2.5, -36),
        (56, 2.5, -192),
        (56, 2.5, -156),
        (154, 2.5, -156),
        (154, 2.5, -192),
        (0, 2.5, -192),
        (330, 2.5, -192),
        (330, 2.5, 0),
        (0, 2.5, 0),
    ]]
    fillet(fillet3_edges, radius=FILLET3_R)


solid = part.part
